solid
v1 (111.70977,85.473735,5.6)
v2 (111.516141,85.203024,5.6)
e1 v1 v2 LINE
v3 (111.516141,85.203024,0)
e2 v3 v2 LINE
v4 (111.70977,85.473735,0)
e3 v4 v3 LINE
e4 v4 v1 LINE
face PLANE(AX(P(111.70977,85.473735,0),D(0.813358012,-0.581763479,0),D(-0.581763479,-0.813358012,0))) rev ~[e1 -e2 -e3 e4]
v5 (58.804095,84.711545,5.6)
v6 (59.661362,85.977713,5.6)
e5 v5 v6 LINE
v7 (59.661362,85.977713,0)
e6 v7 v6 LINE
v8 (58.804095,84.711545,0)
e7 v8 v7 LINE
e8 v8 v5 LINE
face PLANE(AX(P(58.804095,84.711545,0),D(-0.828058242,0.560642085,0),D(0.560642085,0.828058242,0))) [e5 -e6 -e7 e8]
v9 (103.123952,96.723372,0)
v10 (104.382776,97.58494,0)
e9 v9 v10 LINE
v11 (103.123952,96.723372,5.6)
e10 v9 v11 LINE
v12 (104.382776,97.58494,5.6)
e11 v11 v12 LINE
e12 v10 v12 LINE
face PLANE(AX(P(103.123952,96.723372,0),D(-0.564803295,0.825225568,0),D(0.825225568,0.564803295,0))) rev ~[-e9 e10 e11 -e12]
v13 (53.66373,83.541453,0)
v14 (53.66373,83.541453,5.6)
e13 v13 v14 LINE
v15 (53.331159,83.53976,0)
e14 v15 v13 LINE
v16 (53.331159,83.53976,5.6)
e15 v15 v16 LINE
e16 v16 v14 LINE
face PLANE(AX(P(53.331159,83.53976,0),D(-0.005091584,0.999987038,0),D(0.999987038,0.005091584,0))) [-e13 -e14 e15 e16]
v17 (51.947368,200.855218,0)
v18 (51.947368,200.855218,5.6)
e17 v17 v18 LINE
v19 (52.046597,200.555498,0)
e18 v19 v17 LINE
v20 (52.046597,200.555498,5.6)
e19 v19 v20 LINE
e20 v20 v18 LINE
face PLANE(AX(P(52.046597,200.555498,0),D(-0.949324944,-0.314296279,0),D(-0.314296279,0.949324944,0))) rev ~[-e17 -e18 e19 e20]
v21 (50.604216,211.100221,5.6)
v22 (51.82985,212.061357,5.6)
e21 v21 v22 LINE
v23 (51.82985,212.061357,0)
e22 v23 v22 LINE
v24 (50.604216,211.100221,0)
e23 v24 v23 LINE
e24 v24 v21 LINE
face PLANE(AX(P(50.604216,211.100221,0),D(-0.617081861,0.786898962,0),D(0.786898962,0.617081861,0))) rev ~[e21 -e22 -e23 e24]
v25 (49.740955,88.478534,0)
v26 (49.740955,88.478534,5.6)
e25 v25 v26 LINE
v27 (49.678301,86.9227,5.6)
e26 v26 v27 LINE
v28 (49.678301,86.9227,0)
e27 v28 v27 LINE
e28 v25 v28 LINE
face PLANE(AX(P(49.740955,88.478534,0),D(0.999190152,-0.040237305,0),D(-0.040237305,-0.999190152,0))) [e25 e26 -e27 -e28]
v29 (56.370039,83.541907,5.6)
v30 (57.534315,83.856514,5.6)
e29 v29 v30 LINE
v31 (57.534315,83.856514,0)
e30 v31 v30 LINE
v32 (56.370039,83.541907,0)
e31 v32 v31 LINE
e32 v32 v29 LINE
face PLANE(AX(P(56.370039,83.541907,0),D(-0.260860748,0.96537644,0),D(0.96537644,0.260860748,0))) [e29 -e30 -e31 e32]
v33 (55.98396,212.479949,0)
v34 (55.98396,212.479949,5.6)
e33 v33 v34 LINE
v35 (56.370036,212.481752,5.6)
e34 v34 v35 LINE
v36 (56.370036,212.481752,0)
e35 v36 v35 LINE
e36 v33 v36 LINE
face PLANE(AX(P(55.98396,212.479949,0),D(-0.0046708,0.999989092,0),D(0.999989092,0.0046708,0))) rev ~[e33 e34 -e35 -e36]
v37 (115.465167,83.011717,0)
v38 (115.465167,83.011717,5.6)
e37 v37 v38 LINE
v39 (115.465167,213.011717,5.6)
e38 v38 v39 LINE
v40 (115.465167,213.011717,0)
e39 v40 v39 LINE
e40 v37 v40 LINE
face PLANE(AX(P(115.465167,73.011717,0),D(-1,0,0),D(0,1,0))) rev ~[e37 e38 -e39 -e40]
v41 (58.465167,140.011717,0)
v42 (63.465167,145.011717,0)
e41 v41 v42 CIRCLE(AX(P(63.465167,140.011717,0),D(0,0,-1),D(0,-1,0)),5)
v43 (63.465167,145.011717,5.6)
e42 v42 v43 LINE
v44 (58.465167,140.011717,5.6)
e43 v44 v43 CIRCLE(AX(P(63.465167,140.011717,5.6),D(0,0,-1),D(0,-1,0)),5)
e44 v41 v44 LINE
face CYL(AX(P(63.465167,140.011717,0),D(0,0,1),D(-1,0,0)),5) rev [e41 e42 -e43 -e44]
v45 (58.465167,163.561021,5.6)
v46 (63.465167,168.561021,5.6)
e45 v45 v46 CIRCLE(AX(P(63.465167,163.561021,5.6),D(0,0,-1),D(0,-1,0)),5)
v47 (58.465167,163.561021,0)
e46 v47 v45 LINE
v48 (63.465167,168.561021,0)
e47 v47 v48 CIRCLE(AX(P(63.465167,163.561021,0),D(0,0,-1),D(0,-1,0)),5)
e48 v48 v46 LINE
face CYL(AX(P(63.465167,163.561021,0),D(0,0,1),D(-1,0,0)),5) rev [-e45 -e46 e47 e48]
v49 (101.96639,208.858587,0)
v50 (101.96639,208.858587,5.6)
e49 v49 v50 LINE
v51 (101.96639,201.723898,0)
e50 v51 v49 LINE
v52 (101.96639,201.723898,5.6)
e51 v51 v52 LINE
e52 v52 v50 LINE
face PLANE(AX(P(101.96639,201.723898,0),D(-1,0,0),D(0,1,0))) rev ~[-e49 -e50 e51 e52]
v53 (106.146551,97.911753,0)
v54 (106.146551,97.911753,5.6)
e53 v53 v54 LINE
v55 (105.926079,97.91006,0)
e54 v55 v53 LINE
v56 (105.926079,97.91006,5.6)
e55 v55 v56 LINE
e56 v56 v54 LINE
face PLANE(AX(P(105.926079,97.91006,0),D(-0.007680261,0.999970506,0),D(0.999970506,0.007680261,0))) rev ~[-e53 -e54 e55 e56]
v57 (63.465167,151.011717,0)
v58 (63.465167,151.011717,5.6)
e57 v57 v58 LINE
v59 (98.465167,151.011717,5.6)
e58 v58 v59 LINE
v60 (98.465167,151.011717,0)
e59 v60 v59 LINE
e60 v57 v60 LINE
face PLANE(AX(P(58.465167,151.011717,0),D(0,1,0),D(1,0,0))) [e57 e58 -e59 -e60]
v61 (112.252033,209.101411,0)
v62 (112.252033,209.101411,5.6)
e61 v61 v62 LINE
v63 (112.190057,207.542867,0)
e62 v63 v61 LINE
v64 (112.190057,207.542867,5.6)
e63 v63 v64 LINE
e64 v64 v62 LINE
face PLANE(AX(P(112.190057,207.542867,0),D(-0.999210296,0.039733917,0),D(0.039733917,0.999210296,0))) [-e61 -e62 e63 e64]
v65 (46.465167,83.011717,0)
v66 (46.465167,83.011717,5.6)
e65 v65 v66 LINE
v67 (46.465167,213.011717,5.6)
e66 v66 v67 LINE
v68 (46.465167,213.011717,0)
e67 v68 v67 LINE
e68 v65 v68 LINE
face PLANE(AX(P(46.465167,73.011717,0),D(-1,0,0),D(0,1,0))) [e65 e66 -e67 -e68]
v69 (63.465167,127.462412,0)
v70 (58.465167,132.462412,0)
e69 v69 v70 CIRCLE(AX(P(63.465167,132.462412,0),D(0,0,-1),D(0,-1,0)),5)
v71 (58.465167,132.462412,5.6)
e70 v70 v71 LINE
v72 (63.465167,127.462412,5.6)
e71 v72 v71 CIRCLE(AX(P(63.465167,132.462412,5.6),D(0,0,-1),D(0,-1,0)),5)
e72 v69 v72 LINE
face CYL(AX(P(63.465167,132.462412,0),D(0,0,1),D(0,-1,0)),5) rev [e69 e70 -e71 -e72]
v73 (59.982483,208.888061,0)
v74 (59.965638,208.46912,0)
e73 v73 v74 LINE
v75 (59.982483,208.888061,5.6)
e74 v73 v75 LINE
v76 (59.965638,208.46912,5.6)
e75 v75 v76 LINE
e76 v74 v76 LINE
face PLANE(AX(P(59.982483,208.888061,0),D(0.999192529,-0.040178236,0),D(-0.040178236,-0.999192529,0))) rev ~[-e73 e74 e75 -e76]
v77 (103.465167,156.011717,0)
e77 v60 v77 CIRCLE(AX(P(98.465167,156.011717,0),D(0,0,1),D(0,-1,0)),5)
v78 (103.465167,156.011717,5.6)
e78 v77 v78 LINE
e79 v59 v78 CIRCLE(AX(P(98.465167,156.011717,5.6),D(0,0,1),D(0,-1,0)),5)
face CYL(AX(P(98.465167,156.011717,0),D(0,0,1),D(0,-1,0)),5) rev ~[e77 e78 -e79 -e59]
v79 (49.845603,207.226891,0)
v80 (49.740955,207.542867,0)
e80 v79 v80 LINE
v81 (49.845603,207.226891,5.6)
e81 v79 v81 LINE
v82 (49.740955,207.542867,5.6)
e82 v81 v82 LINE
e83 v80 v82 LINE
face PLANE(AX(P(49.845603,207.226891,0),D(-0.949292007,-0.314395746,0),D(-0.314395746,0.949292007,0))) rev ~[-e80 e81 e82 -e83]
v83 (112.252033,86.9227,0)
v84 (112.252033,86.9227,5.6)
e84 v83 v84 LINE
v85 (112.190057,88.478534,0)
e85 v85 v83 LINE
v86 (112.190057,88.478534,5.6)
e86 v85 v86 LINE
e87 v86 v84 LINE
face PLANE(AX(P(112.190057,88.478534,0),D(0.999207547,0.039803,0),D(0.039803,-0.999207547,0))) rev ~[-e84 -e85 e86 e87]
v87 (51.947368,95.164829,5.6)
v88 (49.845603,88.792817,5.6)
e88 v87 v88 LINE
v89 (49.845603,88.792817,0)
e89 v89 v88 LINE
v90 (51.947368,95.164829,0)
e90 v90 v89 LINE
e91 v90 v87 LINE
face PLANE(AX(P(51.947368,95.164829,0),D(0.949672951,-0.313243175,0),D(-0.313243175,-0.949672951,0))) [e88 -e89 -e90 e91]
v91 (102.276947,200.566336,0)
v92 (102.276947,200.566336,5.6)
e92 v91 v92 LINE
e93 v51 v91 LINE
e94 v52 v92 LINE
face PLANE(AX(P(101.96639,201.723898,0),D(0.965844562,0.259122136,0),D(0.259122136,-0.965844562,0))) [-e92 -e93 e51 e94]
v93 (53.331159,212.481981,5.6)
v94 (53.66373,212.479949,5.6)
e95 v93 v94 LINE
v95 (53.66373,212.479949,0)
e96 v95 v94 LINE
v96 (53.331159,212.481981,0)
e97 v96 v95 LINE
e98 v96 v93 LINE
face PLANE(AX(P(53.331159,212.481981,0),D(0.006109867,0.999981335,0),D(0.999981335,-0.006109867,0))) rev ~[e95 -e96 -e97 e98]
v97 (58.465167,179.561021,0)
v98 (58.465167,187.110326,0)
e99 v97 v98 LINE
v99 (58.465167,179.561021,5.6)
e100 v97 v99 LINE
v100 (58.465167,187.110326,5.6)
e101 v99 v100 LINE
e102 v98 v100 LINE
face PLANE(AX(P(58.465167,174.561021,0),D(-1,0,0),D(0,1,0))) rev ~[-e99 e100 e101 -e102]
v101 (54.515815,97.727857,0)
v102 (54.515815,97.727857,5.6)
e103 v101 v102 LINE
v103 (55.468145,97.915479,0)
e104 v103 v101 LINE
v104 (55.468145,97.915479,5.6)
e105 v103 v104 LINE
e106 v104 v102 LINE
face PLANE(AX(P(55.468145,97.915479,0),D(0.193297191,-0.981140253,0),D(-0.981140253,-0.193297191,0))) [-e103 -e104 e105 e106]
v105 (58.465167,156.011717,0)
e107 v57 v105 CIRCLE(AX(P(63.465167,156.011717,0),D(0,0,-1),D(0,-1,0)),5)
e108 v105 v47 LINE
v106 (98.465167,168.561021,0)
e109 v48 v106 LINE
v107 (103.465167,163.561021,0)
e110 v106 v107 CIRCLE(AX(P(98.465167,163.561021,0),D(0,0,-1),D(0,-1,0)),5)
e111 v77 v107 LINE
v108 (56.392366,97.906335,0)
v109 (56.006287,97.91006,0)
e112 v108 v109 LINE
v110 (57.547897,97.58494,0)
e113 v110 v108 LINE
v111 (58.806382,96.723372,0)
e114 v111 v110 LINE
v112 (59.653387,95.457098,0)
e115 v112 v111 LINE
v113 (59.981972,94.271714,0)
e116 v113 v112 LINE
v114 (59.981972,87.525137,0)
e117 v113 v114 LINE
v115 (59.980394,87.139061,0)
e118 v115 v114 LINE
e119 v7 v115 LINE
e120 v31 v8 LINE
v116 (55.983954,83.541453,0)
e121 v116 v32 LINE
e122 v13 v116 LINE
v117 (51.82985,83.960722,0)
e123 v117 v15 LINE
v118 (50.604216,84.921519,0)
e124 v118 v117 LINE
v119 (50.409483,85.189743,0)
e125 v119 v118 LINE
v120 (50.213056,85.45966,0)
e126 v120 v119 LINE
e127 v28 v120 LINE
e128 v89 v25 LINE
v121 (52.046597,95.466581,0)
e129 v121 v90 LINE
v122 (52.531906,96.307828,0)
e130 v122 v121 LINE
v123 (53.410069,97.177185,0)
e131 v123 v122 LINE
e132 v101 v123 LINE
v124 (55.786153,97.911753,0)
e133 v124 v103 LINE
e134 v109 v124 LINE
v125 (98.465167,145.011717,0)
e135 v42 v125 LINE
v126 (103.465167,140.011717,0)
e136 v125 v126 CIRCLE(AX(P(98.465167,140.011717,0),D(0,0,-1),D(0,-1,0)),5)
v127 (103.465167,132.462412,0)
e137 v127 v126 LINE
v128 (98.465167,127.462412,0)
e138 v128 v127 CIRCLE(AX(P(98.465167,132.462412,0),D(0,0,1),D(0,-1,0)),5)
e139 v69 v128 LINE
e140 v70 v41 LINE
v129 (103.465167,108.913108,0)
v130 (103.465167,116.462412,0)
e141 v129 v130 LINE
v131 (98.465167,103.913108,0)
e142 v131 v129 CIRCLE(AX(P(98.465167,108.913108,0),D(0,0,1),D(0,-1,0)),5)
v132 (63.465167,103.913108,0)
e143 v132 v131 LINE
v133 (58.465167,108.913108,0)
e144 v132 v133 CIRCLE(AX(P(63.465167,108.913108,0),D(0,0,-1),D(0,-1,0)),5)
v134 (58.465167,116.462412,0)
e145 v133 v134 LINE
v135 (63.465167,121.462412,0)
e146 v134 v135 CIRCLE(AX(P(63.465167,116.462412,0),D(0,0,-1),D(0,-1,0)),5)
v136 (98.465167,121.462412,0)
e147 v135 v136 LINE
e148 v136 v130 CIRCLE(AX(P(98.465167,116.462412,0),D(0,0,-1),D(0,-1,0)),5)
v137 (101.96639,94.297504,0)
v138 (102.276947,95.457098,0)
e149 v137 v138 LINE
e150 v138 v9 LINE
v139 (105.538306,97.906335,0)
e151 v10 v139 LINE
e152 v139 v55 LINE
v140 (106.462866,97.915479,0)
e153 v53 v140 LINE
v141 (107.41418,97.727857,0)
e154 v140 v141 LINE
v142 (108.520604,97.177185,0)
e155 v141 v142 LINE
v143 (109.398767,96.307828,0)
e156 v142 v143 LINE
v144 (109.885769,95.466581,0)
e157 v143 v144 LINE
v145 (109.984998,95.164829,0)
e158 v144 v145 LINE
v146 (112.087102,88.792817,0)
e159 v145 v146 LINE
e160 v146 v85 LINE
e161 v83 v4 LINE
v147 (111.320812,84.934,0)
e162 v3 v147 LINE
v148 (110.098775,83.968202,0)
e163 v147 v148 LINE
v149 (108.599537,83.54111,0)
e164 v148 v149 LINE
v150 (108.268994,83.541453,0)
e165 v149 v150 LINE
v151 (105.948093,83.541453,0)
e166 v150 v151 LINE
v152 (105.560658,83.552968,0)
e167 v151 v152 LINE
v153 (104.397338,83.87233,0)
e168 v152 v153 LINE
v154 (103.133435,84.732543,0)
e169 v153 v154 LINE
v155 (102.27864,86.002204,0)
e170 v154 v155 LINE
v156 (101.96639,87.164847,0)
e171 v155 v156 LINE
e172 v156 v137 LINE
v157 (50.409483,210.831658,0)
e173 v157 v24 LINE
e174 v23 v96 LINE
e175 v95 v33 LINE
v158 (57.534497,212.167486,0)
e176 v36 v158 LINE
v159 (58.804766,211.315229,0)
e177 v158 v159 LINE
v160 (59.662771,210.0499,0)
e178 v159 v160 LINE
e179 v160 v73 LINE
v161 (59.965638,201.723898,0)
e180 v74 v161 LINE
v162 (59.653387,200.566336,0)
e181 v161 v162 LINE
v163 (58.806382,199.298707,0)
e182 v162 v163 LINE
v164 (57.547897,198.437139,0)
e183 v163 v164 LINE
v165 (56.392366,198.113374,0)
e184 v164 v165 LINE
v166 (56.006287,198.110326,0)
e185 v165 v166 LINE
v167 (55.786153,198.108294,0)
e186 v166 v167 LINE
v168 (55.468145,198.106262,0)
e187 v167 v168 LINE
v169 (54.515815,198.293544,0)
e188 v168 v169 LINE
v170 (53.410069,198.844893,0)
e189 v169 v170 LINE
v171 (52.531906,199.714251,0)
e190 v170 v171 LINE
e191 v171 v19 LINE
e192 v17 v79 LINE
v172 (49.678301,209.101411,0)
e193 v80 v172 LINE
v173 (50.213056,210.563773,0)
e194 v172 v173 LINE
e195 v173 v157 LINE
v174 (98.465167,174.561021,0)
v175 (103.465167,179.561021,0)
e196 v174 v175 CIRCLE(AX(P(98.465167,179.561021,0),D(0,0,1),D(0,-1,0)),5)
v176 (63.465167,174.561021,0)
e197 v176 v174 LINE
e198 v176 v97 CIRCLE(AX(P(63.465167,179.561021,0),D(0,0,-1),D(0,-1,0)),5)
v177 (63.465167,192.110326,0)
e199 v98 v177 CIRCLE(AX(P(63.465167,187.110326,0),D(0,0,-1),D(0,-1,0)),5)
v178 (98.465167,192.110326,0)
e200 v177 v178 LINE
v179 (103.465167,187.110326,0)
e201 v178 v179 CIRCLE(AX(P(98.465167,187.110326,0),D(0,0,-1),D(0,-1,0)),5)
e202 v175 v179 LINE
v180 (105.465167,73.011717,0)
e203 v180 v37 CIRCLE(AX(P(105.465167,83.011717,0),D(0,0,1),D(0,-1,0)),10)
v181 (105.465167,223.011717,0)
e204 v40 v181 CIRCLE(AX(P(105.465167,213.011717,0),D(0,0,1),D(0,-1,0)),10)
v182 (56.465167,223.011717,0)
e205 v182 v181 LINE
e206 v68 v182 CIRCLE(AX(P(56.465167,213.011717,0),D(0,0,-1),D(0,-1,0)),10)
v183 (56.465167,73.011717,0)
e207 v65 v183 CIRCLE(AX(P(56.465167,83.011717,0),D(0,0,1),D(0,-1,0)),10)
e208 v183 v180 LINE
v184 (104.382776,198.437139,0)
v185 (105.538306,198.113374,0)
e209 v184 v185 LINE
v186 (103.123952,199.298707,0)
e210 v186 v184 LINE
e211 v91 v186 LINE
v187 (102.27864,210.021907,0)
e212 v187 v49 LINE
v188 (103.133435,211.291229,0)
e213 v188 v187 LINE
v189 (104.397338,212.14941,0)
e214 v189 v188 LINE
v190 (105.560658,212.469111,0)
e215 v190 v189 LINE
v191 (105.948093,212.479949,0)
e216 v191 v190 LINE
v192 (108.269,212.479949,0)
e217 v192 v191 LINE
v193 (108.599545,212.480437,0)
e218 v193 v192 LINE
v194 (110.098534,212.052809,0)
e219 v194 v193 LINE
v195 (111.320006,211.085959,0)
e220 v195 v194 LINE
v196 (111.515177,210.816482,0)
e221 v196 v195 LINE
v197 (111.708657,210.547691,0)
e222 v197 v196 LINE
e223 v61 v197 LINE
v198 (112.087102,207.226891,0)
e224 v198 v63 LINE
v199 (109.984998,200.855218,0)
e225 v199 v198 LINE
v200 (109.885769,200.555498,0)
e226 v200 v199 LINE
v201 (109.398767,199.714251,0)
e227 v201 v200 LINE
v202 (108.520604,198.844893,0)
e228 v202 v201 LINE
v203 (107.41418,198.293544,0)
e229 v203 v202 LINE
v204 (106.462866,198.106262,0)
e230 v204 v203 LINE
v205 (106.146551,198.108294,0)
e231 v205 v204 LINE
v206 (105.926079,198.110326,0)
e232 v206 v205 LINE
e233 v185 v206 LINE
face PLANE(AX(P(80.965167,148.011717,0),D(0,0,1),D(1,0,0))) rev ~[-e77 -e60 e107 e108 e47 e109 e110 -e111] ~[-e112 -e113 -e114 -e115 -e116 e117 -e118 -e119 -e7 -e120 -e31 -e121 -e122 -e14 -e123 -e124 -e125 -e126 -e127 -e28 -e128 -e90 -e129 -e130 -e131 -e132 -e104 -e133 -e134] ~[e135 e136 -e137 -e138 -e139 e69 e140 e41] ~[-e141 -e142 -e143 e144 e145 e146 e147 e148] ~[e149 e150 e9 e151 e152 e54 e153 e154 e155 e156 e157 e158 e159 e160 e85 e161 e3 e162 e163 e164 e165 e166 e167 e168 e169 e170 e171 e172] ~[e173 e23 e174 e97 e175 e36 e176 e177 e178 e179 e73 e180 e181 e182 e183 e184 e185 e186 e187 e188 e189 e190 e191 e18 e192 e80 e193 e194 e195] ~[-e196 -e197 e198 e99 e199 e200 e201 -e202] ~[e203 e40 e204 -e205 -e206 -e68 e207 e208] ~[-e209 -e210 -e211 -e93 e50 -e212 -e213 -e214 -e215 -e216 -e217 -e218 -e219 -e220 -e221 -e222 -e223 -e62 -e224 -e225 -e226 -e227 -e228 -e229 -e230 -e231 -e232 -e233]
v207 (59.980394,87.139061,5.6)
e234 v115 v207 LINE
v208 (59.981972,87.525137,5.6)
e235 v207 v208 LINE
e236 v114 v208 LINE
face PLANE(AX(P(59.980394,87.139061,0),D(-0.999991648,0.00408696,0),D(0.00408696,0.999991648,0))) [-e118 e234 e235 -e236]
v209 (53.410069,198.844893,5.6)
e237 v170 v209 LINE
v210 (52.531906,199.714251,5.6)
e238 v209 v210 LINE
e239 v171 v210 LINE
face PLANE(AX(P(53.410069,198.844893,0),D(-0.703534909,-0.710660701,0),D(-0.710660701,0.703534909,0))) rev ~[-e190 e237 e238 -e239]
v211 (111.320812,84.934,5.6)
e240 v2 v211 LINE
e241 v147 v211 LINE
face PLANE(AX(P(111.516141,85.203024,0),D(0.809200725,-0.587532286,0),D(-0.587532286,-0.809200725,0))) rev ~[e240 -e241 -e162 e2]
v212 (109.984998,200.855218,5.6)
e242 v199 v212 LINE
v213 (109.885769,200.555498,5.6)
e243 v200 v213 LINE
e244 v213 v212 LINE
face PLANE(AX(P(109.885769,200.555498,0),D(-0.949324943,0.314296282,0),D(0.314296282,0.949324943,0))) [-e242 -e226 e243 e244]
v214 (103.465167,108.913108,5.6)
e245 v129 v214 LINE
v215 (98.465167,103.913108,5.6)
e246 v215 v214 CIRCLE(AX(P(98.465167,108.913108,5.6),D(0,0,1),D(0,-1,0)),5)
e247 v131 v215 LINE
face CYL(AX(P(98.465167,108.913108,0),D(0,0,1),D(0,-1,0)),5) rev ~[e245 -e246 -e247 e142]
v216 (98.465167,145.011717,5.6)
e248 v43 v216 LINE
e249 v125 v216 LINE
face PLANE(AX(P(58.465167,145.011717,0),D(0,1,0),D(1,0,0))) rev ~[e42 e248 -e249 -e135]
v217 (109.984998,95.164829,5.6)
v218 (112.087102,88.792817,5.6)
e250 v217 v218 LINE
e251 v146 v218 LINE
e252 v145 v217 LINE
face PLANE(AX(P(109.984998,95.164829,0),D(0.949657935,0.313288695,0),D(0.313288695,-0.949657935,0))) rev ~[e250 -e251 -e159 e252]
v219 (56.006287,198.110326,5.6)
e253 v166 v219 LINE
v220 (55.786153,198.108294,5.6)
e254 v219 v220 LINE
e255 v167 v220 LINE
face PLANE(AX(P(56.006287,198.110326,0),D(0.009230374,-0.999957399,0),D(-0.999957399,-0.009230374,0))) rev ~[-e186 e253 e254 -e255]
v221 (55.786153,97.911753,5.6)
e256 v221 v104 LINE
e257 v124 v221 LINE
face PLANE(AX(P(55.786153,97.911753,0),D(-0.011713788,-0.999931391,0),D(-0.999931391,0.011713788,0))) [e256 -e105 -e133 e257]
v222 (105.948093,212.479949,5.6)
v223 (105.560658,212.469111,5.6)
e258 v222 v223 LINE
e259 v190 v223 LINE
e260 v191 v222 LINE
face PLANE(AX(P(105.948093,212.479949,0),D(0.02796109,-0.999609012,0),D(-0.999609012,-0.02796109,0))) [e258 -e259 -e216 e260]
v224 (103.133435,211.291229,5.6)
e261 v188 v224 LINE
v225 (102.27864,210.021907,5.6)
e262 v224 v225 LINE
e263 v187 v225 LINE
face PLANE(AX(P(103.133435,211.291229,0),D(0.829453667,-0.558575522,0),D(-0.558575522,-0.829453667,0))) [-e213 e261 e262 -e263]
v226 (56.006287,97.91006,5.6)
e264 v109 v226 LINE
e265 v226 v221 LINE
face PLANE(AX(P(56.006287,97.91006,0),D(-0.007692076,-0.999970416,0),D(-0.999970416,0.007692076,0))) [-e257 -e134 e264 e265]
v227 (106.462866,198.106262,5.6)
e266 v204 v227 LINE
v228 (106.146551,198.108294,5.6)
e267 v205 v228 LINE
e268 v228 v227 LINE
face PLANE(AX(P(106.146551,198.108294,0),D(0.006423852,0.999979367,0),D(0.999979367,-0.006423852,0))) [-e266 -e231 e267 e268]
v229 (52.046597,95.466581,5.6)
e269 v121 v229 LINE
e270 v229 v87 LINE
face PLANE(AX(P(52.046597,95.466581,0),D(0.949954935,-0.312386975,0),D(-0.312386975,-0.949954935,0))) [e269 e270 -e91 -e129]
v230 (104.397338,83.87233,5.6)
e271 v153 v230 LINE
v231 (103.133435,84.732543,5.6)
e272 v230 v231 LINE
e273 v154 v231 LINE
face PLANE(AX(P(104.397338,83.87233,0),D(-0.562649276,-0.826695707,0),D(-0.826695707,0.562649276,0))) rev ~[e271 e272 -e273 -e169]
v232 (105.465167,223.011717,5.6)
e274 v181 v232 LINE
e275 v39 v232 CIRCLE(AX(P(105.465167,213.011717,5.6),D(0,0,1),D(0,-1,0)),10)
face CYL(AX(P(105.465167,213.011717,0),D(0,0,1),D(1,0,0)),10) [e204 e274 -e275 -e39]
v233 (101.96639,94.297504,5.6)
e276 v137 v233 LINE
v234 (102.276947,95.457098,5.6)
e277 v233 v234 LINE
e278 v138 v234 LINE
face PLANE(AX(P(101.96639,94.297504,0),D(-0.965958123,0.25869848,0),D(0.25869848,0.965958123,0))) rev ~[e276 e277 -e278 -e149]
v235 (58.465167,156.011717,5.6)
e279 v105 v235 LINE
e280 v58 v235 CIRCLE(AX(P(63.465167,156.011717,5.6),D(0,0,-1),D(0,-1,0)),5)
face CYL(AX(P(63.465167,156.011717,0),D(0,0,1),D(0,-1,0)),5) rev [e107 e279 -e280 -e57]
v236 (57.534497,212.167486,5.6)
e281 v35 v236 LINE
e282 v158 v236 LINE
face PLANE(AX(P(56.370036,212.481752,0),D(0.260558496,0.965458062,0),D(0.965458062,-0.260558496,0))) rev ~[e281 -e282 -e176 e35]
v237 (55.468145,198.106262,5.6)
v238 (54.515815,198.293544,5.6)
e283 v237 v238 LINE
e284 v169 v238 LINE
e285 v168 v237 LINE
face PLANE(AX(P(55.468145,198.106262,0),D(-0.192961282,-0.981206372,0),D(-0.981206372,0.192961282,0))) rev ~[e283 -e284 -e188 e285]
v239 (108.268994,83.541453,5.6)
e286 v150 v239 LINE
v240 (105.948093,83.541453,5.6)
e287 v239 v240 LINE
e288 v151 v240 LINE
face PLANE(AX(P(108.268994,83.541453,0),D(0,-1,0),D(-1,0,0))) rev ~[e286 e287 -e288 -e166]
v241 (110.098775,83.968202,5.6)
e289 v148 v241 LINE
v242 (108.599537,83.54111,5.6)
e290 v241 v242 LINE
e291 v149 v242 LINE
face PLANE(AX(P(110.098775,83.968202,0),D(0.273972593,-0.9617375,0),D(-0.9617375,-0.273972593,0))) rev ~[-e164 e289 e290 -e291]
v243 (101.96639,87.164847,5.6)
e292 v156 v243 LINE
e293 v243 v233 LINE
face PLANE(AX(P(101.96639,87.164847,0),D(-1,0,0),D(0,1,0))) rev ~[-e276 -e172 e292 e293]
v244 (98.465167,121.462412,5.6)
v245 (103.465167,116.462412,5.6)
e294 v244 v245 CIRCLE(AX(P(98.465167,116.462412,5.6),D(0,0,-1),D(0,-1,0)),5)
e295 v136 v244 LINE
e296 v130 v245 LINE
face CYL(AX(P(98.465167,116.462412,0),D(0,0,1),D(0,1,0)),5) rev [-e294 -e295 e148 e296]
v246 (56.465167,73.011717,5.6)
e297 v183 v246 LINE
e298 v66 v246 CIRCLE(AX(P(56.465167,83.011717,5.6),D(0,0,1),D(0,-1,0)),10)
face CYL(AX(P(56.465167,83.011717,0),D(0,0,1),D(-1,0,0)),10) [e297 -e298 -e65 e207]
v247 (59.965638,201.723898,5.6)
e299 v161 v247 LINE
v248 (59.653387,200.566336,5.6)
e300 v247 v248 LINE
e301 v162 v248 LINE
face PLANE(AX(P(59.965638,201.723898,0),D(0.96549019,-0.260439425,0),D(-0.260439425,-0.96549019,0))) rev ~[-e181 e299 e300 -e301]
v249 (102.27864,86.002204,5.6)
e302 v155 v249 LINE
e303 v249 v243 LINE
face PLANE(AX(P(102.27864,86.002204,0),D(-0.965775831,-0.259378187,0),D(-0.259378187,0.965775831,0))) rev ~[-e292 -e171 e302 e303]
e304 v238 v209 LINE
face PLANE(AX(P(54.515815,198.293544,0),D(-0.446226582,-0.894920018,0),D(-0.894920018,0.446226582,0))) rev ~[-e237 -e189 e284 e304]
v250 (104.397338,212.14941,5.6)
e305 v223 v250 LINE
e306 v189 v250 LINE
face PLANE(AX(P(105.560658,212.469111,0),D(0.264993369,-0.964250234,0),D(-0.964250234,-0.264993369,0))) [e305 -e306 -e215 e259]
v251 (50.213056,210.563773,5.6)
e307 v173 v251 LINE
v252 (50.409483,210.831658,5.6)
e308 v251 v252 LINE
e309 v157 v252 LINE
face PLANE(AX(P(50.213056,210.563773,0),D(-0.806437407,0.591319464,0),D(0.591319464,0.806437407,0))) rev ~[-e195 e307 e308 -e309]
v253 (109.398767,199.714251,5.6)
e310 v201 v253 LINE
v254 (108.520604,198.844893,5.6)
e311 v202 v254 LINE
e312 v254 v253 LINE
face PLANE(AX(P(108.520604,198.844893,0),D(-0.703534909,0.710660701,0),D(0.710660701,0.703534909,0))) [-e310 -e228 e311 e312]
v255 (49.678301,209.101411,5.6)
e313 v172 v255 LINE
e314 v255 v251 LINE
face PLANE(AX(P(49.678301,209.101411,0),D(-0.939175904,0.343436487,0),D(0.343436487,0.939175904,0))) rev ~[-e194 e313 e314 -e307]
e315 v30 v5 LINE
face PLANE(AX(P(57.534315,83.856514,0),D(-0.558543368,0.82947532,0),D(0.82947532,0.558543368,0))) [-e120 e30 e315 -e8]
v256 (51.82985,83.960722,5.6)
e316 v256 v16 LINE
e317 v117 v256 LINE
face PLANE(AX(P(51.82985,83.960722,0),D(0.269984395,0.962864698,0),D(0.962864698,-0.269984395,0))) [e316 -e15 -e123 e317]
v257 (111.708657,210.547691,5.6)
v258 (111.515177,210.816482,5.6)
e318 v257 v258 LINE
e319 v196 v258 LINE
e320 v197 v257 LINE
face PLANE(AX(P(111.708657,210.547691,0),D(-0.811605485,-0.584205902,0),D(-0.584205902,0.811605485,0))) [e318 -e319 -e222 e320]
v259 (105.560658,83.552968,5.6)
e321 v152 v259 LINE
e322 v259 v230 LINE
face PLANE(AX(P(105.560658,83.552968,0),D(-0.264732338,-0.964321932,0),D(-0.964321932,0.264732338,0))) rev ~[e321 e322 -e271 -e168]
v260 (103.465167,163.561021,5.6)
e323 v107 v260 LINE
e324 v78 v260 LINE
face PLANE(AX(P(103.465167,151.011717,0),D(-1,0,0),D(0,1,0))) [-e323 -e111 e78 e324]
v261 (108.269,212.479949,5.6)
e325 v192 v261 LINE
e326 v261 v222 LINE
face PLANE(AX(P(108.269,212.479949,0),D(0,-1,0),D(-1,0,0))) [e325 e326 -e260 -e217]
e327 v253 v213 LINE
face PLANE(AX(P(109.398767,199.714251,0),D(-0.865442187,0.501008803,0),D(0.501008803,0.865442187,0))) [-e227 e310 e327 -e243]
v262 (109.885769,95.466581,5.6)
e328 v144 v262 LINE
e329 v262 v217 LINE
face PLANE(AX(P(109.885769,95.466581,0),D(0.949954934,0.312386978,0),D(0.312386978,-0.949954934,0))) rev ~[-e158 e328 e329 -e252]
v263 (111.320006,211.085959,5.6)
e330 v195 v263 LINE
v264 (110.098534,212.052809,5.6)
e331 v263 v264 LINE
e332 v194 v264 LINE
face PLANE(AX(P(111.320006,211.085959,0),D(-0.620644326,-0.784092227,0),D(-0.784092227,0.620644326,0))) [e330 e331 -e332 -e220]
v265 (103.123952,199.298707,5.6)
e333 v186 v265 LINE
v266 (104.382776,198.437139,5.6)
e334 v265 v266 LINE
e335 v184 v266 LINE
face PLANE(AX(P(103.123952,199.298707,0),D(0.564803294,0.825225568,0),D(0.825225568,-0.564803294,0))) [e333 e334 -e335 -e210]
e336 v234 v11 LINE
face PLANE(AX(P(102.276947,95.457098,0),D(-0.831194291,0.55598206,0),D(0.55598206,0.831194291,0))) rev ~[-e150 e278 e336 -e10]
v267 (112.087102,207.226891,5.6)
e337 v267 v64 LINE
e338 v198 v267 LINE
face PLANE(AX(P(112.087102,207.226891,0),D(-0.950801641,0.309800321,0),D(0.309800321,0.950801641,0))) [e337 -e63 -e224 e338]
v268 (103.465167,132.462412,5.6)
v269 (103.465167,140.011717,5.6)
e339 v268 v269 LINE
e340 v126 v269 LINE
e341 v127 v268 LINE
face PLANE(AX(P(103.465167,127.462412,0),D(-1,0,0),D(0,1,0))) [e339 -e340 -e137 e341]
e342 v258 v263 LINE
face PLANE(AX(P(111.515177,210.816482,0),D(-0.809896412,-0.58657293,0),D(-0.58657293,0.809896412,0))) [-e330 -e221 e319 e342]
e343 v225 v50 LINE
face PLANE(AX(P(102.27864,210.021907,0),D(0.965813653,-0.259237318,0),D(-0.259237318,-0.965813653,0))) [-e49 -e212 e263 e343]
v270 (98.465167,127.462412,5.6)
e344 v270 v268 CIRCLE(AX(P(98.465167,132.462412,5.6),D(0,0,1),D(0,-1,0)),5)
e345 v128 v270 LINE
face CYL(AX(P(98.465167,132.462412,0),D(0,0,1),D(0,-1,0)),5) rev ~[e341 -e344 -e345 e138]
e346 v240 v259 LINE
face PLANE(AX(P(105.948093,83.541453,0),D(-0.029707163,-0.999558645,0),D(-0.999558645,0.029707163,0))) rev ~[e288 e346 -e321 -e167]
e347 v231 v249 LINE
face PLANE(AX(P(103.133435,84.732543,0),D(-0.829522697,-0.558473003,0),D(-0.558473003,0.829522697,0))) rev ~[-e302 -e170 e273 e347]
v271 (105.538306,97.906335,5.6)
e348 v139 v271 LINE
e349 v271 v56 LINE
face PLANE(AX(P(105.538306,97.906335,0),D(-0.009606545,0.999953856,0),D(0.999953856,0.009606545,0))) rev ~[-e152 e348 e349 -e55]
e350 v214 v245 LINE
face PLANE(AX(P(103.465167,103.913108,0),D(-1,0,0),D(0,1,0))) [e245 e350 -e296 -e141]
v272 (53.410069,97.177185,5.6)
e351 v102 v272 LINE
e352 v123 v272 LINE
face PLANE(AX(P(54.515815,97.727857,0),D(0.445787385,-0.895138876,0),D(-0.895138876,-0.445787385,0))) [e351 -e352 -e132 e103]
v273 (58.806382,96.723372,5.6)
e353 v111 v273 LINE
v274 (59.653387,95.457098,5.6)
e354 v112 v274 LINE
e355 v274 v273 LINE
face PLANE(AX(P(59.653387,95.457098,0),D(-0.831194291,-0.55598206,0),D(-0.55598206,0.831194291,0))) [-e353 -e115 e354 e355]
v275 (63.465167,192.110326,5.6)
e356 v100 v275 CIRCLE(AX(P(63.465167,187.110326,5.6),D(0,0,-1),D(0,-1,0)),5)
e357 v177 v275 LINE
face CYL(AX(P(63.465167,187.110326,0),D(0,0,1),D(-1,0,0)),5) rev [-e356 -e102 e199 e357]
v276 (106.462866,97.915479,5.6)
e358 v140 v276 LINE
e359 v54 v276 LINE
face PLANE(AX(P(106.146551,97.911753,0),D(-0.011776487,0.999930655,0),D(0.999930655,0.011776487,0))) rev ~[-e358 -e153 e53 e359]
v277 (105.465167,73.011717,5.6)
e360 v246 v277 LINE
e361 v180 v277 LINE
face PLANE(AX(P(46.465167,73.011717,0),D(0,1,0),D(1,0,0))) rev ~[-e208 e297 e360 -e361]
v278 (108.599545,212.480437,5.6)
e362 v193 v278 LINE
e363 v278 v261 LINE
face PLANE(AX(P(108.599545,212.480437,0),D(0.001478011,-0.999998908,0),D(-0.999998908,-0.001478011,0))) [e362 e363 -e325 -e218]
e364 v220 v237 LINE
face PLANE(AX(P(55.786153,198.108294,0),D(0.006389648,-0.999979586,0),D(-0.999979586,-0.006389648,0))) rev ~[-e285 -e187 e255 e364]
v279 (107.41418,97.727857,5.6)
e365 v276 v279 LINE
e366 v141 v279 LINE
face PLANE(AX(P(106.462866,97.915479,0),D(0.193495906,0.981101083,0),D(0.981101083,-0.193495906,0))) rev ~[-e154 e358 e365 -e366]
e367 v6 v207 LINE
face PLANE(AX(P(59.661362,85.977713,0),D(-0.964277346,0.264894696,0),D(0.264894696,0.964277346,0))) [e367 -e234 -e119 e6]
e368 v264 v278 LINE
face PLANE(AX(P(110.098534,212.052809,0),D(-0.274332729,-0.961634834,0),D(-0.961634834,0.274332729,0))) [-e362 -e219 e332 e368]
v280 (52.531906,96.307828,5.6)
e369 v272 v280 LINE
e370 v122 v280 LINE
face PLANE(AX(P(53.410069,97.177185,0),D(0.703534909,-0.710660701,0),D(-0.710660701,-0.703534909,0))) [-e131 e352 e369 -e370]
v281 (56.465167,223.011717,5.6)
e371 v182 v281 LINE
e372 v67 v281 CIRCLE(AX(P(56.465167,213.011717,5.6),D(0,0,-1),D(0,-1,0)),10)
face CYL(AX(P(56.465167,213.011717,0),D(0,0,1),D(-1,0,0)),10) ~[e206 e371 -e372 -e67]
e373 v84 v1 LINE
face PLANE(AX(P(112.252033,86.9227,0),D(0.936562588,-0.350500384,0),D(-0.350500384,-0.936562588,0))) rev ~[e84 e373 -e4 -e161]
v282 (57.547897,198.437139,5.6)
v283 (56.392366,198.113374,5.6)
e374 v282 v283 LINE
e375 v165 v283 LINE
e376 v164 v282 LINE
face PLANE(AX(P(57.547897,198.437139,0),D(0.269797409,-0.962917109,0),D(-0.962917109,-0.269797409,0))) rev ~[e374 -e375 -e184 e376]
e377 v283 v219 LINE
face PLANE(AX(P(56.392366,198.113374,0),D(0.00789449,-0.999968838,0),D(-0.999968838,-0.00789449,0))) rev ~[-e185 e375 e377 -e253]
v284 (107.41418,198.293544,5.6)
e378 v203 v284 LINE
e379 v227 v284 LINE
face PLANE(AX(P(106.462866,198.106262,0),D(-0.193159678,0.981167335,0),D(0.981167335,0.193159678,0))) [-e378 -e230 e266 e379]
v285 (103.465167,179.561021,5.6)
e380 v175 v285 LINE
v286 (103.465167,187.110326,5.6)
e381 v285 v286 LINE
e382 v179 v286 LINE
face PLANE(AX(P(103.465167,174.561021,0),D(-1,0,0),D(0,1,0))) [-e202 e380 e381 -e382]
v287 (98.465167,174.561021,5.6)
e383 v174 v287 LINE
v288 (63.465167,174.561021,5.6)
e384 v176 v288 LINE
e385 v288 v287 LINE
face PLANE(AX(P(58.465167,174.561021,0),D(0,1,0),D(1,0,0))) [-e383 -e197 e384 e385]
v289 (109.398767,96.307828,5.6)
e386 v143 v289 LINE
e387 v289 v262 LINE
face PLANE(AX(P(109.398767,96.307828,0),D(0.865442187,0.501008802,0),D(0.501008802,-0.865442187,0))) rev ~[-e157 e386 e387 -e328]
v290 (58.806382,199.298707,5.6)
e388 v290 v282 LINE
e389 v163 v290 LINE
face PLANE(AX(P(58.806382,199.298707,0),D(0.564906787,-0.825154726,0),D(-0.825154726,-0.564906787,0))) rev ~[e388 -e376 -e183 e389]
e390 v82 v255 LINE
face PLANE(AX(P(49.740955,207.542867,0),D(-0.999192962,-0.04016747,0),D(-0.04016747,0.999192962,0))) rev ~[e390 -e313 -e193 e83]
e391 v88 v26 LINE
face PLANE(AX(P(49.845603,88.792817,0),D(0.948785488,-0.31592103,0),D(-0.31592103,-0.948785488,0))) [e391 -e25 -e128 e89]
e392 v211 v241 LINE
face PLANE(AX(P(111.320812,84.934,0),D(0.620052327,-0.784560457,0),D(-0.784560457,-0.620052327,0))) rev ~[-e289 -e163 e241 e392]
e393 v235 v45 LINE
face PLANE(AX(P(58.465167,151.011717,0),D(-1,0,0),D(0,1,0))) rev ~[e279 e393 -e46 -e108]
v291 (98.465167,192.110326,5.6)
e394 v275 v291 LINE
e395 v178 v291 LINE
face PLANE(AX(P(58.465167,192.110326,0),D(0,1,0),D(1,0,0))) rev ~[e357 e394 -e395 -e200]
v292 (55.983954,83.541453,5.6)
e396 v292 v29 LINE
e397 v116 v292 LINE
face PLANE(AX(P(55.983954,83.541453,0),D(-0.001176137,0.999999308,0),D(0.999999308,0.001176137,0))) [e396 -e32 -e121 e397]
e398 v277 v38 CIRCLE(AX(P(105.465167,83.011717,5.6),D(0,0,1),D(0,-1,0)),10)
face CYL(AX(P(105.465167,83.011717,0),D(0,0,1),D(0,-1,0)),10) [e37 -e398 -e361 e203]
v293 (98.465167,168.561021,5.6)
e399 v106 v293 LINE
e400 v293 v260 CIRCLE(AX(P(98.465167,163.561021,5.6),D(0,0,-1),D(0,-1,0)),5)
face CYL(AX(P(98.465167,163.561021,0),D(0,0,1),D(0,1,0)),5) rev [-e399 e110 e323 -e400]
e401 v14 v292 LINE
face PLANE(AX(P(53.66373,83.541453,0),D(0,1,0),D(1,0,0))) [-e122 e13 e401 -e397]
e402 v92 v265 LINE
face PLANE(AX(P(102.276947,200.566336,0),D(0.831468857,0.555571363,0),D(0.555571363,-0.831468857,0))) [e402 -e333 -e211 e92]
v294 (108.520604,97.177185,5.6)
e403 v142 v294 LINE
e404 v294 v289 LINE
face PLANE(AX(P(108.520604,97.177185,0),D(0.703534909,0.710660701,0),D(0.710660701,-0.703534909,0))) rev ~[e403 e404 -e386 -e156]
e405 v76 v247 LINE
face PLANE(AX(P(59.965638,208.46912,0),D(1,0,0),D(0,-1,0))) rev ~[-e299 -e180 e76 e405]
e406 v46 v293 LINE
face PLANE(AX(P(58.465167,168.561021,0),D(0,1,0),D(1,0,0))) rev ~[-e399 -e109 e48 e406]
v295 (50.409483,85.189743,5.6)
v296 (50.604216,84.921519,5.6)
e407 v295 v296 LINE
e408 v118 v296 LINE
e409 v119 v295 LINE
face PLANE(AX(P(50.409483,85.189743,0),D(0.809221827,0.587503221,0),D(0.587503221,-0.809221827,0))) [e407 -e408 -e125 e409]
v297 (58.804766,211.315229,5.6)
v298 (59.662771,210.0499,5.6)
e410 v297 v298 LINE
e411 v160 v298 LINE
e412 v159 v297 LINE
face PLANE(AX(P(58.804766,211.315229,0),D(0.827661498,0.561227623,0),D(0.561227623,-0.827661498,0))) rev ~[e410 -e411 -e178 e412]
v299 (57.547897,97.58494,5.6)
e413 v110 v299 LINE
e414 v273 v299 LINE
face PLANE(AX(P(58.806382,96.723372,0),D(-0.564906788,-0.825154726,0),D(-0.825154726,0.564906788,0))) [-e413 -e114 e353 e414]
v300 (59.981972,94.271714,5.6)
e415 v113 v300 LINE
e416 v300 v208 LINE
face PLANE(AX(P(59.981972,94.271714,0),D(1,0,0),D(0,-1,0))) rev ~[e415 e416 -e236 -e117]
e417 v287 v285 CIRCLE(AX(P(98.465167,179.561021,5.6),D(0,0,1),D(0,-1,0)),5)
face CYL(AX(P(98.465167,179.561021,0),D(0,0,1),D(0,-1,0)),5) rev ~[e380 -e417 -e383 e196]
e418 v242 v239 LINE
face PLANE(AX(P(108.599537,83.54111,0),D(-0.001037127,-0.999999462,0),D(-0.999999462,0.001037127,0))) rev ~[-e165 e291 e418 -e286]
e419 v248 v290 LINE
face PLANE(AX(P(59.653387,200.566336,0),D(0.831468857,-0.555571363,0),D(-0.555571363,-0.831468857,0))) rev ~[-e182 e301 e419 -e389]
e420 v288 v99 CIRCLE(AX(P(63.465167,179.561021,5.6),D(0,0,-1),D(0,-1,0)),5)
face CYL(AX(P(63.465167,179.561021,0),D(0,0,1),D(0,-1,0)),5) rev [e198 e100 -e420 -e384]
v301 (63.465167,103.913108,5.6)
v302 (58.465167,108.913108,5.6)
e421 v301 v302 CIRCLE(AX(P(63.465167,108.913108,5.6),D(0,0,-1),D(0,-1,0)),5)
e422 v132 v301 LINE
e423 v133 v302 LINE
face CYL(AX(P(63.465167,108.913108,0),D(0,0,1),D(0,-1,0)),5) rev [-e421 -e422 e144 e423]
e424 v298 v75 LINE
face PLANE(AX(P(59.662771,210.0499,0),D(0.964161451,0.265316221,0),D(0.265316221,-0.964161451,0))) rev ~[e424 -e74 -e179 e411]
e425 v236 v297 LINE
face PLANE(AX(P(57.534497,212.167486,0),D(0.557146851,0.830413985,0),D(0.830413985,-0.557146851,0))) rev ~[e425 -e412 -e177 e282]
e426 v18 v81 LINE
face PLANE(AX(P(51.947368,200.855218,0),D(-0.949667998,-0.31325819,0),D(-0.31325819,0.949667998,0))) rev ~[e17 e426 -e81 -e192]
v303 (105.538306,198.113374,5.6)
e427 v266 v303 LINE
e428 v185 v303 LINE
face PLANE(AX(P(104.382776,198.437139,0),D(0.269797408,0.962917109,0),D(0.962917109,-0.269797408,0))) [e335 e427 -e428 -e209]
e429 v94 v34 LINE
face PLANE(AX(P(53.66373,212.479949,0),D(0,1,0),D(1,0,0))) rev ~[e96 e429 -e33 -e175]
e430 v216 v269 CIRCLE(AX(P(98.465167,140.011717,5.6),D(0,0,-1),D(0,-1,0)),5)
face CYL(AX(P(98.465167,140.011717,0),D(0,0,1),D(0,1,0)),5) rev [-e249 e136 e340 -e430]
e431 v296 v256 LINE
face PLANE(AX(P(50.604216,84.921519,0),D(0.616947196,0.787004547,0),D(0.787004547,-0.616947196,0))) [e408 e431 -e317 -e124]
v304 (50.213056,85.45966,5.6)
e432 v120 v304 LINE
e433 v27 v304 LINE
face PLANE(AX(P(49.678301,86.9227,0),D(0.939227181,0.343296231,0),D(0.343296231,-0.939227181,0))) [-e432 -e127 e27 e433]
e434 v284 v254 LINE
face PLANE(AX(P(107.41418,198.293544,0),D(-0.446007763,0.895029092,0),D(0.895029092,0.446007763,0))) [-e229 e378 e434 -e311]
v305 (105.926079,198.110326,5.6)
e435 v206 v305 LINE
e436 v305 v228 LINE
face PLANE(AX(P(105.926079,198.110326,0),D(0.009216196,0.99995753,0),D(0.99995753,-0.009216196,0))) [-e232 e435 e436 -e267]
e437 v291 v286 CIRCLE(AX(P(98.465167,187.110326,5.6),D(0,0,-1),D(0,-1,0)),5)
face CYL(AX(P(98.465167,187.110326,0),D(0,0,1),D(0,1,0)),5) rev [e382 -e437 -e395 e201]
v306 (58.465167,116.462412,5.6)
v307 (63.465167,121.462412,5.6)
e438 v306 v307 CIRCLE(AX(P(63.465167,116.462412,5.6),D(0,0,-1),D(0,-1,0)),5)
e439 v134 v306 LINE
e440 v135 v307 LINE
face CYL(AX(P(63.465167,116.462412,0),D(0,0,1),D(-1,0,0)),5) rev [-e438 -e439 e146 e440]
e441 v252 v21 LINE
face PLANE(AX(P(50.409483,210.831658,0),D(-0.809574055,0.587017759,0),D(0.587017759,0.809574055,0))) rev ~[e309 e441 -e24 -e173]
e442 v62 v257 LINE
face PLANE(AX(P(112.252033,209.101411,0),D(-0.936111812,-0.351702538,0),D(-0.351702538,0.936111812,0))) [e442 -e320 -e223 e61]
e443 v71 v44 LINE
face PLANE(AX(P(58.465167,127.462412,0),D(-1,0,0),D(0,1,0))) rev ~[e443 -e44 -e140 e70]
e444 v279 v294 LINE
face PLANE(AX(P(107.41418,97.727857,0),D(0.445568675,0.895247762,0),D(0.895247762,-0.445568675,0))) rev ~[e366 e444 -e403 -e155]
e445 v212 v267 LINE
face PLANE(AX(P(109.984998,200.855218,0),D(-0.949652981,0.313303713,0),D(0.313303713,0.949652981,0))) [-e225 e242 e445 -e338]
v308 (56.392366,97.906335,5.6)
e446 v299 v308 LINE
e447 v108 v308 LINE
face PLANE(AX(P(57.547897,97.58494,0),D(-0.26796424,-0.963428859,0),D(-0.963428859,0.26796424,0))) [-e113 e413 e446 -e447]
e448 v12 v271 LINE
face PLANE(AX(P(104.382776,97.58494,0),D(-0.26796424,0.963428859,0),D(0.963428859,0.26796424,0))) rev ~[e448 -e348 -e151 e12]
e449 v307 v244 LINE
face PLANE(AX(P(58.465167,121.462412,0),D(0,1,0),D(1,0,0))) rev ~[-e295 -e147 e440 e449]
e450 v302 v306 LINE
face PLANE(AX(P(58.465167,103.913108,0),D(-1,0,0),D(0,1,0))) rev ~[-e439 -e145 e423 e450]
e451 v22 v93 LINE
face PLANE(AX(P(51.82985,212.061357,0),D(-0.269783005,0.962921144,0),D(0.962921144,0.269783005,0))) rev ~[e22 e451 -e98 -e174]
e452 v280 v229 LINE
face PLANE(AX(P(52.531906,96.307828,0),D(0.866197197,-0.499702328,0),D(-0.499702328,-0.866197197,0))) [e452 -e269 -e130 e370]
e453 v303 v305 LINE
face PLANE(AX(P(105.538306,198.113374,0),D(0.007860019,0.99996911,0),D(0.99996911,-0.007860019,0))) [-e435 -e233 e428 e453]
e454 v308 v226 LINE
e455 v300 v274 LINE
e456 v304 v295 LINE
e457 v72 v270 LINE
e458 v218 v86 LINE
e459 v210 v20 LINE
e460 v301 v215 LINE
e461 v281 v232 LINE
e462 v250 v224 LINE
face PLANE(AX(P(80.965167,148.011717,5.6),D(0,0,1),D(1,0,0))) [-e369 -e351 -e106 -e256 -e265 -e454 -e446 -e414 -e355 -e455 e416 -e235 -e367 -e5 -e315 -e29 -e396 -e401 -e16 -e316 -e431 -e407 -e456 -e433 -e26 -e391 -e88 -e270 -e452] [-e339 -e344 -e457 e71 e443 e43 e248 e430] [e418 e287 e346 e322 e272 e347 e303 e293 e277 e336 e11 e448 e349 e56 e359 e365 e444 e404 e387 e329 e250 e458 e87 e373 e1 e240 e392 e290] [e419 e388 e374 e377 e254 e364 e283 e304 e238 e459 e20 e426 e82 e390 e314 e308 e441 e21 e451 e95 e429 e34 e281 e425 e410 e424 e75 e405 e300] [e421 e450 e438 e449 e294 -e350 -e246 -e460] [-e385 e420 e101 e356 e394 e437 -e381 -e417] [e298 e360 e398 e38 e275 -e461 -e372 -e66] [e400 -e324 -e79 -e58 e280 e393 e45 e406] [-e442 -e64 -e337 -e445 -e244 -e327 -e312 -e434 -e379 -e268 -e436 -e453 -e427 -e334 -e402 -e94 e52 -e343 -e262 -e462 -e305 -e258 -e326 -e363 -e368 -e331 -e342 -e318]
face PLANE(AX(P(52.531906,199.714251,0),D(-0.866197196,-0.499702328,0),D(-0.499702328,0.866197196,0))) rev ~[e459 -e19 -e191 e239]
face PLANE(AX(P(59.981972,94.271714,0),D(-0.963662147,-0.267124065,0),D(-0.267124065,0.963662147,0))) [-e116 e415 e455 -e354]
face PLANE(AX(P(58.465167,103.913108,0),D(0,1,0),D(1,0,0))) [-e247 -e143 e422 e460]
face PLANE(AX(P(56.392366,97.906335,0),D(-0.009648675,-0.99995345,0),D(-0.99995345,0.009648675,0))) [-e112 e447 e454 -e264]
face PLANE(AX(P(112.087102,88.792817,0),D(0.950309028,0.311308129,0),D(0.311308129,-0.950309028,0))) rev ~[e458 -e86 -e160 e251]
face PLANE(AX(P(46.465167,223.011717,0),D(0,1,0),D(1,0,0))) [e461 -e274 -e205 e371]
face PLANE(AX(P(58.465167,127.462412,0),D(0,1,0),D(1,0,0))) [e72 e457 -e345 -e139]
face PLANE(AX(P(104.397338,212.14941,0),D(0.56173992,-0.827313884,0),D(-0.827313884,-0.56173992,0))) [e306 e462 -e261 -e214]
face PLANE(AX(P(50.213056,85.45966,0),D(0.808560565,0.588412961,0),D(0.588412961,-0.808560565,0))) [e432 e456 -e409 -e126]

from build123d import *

# Parameters (mm, degrees)
MODEL_W             = 69
MODEL_H             = 150
MODEL_W_2           = 45
MODEL_H_2           = 17.549304405
MODEL_H_3           = 17.549304404
BOSS_EXTRUDE1_DEPTH = 5.6
FILLET1_R           = 10
FILLET2_R           = 5


with BuildPart() as part:
    # Model → Boss-Extrude1 (new body)
    with BuildSketch(Plane.XY):
        with Locations((80.965167, 148.011716788)):
            Rectangle(MODEL_W, MODEL_H)
        with Locations((80.965167, 159.786368991)):
            Rectangle(MODEL_W_2, MODEL_H_2, mode=Mode.SUBTRACT)
        with Locations((80.965167, 183.335673395)):
            Rectangle(MODEL_W_2, MODEL_H_3, mode=Mode.SUBTRACT)
        with Locations((80.965167, 136.237064586)):
            Rectangle(MODEL_W_2, MODEL_H_3, mode=Mode.SUBTRACT)
        with Locations((80.965167, 112.687760182)):
            Rectangle(MODEL_W_2, MODEL_H_3, mode=Mode.SUBTRACT)
        Polygon((105.926079426, 198.110325597), (106.146551371, 198.108293598), (106.462865959, 198.106261598), (107.414180388, 198.293544218), (108.520604111, 198.844893414), (109.398766558, 199.71425053), (109.885769103, 200.555498319), (109.984998412, 200.855218244), (112.087101886, 207.226891318), (112.190056527, 207.542867239), (112.252032512, 209.101410849), (111.70865689, 210.547690825), (111.515176602, 210.816482466), (111.320006162, 211.085959339), (110.098534463, 212.052809224), (108.599544612, 212.48043722), (108.269000143, 212.479948671), (105.948092754, 212.479948671), (105.560658184, 212.469111341), (104.397338475, 212.149410087), (103.133434791, 211.291228969), (102.278640338, 210.021906619), (101.96638975, 208.85858691), (101.96638975, 208.469120341), (101.96638975, 202.110316597), (101.96638975, 201.723898027), (102.276947005, 200.56633565), (103.123952127, 199.298706633), (104.382775812, 198.437138849), (105.53830619, 198.113373596), align=None, mode=Mode.SUBTRACT)
        Polygon((56.006286573, 198.110325597), (55.786153295, 198.108293598), (55.468145374, 198.106261598), (54.515814946, 198.293544218), (53.410068555, 198.844893414), (52.531906108, 199.71425053), (52.046596896, 200.555498319), (51.947367588, 200.855218244), (49.84560278, 207.226891318), (49.740954806, 207.542867239), (49.678301488, 209.101410849), (50.213056021, 210.56377315), (50.409482639, 210.831658417), (50.604215924, 211.100221016), (51.829850284, 212.061356776), (53.331159242, 212.481980671), (53.663729825, 212.479948671), (55.983959888, 212.479948671), (56.37003558, 212.481751973), (57.534497197, 212.167486259), (58.804766127, 211.315229016), (59.662770703, 210.049900432), (59.982483497, 208.888061364), (59.965637583, 208.469120341), (59.965637583, 202.110316597), (59.965637583, 201.723898027), (59.653386995, 200.56633565), (58.806381873, 199.298706633), (57.547896854, 198.437138849), (56.392366477, 198.113373596), align=None, mode=Mode.SUBTRACT)
        Polygon((105.926079426, 97.910059981), (106.146551371, 97.911753313), (106.462865959, 97.915478646), (107.414180388, 97.727857359), (108.520604111, 97.177185497), (109.398766558, 96.307828381), (109.885769103, 95.466580591), (109.984998412, 95.164828667), (112.087101886, 88.792816927), (112.190056527, 88.478534338), (112.252032512, 86.922700061), (111.709769882, 85.473734765), (111.516141042, 85.203024117), (111.320811964, 84.933999869), (110.098774764, 83.968201755), (108.599536956, 83.541110091), (108.268994213, 83.541452906), (105.948092754, 83.541452906), (105.560658184, 83.55296757), (104.397338475, 83.872330157), (103.133434791, 84.732543275), (102.278640338, 86.002204291), (101.96638975, 87.164846667), (101.96638975, 87.55092657), (101.96638975, 93.910068981), (101.96638975, 94.29750355), (102.276947005, 95.457097927), (103.123952127, 96.723372277), (104.382775812, 97.584940062), (105.53830619, 97.906334648), align=None, mode=Mode.SUBTRACT)
        Polygon((56.006286573, 97.910059981), (55.786153295, 97.911753313), (55.468145374, 97.915478646), (54.515814946, 97.727857359), (53.410068555, 97.177185497), (52.531906108, 96.307828381), (52.046596896, 95.466580591), (51.947367588, 95.164828667), (49.84560278, 88.792816927), (49.740954806, 88.478534338), (49.678301488, 86.922700061), (50.213056021, 85.459660426), (50.409482639, 85.189743161), (50.604215924, 84.921519228), (51.829850284, 83.960722135), (53.331159242, 83.539759573), (53.663729825, 83.541452906), (55.983953956, 83.541452906), (56.37003894, 83.541906995), (57.534315492, 83.856513857), (58.804094924, 84.711544578), (59.661361982, 85.977712552), (59.980393619, 87.139060758), (59.981971512, 87.525137437), (59.981971512, 93.884279847), (59.981971512, 94.271714417), (59.653386995, 95.457097927), (58.806381873, 96.723372277), (57.547896854, 97.584940062), (56.392366477, 97.906334648), align=None, mode=Mode.SUBTRACT)
    extrude(amount=BOSS_EXTRUDE1_DEPTH)

    # Fillet1
    fillet1_edges = [part.edges().sort_by_distance(p)[0] for p in [
        (115.465167, 73.011716788, 2.8),
        (46.465167, 73.011716788, 2.8),
        (46.465167, 223.011716788, 2.8),
        (115.465167, 223.011716788, 2.8),
    ]]
    fillet(fillet1_edges, radius=FILLET1_R)

    # Fillet2
    fillet2_edges = [part.edges().sort_by_distance(p)[0] for p in [
        (58.465167, 192.110325597, 2.8),
        (58.465167, 174.561021193, 2.8),
        (103.465167, 174.561021193, 2.8),
        (103.465167, 192.110325597, 2.8),
        (58.465167, 168.561021193, 2.8),
        (58.465167, 151.011716788, 2.8),
        (103.465167, 151.011716788, 2.8),
        (103.465167, 168.561021193, 2.8),
        (58.465167, 127.462412384, 2.8),
        (103.465167, 127.462412384, 2.8),
        (103.465167, 145.011716788, 2.8),
        (58.465167, 145.011716788, 2.8),
        (58.465167, 103.91310798, 2.8),
        (103.465167, 103.91310798, 2.8),
        (103.465167, 121.462412384, 2.8),
        (58.465167, 121.462412384, 2.8),
    ]]
    fillet(fillet2_edges, radius=FILLET2_R)


solid = part.part
